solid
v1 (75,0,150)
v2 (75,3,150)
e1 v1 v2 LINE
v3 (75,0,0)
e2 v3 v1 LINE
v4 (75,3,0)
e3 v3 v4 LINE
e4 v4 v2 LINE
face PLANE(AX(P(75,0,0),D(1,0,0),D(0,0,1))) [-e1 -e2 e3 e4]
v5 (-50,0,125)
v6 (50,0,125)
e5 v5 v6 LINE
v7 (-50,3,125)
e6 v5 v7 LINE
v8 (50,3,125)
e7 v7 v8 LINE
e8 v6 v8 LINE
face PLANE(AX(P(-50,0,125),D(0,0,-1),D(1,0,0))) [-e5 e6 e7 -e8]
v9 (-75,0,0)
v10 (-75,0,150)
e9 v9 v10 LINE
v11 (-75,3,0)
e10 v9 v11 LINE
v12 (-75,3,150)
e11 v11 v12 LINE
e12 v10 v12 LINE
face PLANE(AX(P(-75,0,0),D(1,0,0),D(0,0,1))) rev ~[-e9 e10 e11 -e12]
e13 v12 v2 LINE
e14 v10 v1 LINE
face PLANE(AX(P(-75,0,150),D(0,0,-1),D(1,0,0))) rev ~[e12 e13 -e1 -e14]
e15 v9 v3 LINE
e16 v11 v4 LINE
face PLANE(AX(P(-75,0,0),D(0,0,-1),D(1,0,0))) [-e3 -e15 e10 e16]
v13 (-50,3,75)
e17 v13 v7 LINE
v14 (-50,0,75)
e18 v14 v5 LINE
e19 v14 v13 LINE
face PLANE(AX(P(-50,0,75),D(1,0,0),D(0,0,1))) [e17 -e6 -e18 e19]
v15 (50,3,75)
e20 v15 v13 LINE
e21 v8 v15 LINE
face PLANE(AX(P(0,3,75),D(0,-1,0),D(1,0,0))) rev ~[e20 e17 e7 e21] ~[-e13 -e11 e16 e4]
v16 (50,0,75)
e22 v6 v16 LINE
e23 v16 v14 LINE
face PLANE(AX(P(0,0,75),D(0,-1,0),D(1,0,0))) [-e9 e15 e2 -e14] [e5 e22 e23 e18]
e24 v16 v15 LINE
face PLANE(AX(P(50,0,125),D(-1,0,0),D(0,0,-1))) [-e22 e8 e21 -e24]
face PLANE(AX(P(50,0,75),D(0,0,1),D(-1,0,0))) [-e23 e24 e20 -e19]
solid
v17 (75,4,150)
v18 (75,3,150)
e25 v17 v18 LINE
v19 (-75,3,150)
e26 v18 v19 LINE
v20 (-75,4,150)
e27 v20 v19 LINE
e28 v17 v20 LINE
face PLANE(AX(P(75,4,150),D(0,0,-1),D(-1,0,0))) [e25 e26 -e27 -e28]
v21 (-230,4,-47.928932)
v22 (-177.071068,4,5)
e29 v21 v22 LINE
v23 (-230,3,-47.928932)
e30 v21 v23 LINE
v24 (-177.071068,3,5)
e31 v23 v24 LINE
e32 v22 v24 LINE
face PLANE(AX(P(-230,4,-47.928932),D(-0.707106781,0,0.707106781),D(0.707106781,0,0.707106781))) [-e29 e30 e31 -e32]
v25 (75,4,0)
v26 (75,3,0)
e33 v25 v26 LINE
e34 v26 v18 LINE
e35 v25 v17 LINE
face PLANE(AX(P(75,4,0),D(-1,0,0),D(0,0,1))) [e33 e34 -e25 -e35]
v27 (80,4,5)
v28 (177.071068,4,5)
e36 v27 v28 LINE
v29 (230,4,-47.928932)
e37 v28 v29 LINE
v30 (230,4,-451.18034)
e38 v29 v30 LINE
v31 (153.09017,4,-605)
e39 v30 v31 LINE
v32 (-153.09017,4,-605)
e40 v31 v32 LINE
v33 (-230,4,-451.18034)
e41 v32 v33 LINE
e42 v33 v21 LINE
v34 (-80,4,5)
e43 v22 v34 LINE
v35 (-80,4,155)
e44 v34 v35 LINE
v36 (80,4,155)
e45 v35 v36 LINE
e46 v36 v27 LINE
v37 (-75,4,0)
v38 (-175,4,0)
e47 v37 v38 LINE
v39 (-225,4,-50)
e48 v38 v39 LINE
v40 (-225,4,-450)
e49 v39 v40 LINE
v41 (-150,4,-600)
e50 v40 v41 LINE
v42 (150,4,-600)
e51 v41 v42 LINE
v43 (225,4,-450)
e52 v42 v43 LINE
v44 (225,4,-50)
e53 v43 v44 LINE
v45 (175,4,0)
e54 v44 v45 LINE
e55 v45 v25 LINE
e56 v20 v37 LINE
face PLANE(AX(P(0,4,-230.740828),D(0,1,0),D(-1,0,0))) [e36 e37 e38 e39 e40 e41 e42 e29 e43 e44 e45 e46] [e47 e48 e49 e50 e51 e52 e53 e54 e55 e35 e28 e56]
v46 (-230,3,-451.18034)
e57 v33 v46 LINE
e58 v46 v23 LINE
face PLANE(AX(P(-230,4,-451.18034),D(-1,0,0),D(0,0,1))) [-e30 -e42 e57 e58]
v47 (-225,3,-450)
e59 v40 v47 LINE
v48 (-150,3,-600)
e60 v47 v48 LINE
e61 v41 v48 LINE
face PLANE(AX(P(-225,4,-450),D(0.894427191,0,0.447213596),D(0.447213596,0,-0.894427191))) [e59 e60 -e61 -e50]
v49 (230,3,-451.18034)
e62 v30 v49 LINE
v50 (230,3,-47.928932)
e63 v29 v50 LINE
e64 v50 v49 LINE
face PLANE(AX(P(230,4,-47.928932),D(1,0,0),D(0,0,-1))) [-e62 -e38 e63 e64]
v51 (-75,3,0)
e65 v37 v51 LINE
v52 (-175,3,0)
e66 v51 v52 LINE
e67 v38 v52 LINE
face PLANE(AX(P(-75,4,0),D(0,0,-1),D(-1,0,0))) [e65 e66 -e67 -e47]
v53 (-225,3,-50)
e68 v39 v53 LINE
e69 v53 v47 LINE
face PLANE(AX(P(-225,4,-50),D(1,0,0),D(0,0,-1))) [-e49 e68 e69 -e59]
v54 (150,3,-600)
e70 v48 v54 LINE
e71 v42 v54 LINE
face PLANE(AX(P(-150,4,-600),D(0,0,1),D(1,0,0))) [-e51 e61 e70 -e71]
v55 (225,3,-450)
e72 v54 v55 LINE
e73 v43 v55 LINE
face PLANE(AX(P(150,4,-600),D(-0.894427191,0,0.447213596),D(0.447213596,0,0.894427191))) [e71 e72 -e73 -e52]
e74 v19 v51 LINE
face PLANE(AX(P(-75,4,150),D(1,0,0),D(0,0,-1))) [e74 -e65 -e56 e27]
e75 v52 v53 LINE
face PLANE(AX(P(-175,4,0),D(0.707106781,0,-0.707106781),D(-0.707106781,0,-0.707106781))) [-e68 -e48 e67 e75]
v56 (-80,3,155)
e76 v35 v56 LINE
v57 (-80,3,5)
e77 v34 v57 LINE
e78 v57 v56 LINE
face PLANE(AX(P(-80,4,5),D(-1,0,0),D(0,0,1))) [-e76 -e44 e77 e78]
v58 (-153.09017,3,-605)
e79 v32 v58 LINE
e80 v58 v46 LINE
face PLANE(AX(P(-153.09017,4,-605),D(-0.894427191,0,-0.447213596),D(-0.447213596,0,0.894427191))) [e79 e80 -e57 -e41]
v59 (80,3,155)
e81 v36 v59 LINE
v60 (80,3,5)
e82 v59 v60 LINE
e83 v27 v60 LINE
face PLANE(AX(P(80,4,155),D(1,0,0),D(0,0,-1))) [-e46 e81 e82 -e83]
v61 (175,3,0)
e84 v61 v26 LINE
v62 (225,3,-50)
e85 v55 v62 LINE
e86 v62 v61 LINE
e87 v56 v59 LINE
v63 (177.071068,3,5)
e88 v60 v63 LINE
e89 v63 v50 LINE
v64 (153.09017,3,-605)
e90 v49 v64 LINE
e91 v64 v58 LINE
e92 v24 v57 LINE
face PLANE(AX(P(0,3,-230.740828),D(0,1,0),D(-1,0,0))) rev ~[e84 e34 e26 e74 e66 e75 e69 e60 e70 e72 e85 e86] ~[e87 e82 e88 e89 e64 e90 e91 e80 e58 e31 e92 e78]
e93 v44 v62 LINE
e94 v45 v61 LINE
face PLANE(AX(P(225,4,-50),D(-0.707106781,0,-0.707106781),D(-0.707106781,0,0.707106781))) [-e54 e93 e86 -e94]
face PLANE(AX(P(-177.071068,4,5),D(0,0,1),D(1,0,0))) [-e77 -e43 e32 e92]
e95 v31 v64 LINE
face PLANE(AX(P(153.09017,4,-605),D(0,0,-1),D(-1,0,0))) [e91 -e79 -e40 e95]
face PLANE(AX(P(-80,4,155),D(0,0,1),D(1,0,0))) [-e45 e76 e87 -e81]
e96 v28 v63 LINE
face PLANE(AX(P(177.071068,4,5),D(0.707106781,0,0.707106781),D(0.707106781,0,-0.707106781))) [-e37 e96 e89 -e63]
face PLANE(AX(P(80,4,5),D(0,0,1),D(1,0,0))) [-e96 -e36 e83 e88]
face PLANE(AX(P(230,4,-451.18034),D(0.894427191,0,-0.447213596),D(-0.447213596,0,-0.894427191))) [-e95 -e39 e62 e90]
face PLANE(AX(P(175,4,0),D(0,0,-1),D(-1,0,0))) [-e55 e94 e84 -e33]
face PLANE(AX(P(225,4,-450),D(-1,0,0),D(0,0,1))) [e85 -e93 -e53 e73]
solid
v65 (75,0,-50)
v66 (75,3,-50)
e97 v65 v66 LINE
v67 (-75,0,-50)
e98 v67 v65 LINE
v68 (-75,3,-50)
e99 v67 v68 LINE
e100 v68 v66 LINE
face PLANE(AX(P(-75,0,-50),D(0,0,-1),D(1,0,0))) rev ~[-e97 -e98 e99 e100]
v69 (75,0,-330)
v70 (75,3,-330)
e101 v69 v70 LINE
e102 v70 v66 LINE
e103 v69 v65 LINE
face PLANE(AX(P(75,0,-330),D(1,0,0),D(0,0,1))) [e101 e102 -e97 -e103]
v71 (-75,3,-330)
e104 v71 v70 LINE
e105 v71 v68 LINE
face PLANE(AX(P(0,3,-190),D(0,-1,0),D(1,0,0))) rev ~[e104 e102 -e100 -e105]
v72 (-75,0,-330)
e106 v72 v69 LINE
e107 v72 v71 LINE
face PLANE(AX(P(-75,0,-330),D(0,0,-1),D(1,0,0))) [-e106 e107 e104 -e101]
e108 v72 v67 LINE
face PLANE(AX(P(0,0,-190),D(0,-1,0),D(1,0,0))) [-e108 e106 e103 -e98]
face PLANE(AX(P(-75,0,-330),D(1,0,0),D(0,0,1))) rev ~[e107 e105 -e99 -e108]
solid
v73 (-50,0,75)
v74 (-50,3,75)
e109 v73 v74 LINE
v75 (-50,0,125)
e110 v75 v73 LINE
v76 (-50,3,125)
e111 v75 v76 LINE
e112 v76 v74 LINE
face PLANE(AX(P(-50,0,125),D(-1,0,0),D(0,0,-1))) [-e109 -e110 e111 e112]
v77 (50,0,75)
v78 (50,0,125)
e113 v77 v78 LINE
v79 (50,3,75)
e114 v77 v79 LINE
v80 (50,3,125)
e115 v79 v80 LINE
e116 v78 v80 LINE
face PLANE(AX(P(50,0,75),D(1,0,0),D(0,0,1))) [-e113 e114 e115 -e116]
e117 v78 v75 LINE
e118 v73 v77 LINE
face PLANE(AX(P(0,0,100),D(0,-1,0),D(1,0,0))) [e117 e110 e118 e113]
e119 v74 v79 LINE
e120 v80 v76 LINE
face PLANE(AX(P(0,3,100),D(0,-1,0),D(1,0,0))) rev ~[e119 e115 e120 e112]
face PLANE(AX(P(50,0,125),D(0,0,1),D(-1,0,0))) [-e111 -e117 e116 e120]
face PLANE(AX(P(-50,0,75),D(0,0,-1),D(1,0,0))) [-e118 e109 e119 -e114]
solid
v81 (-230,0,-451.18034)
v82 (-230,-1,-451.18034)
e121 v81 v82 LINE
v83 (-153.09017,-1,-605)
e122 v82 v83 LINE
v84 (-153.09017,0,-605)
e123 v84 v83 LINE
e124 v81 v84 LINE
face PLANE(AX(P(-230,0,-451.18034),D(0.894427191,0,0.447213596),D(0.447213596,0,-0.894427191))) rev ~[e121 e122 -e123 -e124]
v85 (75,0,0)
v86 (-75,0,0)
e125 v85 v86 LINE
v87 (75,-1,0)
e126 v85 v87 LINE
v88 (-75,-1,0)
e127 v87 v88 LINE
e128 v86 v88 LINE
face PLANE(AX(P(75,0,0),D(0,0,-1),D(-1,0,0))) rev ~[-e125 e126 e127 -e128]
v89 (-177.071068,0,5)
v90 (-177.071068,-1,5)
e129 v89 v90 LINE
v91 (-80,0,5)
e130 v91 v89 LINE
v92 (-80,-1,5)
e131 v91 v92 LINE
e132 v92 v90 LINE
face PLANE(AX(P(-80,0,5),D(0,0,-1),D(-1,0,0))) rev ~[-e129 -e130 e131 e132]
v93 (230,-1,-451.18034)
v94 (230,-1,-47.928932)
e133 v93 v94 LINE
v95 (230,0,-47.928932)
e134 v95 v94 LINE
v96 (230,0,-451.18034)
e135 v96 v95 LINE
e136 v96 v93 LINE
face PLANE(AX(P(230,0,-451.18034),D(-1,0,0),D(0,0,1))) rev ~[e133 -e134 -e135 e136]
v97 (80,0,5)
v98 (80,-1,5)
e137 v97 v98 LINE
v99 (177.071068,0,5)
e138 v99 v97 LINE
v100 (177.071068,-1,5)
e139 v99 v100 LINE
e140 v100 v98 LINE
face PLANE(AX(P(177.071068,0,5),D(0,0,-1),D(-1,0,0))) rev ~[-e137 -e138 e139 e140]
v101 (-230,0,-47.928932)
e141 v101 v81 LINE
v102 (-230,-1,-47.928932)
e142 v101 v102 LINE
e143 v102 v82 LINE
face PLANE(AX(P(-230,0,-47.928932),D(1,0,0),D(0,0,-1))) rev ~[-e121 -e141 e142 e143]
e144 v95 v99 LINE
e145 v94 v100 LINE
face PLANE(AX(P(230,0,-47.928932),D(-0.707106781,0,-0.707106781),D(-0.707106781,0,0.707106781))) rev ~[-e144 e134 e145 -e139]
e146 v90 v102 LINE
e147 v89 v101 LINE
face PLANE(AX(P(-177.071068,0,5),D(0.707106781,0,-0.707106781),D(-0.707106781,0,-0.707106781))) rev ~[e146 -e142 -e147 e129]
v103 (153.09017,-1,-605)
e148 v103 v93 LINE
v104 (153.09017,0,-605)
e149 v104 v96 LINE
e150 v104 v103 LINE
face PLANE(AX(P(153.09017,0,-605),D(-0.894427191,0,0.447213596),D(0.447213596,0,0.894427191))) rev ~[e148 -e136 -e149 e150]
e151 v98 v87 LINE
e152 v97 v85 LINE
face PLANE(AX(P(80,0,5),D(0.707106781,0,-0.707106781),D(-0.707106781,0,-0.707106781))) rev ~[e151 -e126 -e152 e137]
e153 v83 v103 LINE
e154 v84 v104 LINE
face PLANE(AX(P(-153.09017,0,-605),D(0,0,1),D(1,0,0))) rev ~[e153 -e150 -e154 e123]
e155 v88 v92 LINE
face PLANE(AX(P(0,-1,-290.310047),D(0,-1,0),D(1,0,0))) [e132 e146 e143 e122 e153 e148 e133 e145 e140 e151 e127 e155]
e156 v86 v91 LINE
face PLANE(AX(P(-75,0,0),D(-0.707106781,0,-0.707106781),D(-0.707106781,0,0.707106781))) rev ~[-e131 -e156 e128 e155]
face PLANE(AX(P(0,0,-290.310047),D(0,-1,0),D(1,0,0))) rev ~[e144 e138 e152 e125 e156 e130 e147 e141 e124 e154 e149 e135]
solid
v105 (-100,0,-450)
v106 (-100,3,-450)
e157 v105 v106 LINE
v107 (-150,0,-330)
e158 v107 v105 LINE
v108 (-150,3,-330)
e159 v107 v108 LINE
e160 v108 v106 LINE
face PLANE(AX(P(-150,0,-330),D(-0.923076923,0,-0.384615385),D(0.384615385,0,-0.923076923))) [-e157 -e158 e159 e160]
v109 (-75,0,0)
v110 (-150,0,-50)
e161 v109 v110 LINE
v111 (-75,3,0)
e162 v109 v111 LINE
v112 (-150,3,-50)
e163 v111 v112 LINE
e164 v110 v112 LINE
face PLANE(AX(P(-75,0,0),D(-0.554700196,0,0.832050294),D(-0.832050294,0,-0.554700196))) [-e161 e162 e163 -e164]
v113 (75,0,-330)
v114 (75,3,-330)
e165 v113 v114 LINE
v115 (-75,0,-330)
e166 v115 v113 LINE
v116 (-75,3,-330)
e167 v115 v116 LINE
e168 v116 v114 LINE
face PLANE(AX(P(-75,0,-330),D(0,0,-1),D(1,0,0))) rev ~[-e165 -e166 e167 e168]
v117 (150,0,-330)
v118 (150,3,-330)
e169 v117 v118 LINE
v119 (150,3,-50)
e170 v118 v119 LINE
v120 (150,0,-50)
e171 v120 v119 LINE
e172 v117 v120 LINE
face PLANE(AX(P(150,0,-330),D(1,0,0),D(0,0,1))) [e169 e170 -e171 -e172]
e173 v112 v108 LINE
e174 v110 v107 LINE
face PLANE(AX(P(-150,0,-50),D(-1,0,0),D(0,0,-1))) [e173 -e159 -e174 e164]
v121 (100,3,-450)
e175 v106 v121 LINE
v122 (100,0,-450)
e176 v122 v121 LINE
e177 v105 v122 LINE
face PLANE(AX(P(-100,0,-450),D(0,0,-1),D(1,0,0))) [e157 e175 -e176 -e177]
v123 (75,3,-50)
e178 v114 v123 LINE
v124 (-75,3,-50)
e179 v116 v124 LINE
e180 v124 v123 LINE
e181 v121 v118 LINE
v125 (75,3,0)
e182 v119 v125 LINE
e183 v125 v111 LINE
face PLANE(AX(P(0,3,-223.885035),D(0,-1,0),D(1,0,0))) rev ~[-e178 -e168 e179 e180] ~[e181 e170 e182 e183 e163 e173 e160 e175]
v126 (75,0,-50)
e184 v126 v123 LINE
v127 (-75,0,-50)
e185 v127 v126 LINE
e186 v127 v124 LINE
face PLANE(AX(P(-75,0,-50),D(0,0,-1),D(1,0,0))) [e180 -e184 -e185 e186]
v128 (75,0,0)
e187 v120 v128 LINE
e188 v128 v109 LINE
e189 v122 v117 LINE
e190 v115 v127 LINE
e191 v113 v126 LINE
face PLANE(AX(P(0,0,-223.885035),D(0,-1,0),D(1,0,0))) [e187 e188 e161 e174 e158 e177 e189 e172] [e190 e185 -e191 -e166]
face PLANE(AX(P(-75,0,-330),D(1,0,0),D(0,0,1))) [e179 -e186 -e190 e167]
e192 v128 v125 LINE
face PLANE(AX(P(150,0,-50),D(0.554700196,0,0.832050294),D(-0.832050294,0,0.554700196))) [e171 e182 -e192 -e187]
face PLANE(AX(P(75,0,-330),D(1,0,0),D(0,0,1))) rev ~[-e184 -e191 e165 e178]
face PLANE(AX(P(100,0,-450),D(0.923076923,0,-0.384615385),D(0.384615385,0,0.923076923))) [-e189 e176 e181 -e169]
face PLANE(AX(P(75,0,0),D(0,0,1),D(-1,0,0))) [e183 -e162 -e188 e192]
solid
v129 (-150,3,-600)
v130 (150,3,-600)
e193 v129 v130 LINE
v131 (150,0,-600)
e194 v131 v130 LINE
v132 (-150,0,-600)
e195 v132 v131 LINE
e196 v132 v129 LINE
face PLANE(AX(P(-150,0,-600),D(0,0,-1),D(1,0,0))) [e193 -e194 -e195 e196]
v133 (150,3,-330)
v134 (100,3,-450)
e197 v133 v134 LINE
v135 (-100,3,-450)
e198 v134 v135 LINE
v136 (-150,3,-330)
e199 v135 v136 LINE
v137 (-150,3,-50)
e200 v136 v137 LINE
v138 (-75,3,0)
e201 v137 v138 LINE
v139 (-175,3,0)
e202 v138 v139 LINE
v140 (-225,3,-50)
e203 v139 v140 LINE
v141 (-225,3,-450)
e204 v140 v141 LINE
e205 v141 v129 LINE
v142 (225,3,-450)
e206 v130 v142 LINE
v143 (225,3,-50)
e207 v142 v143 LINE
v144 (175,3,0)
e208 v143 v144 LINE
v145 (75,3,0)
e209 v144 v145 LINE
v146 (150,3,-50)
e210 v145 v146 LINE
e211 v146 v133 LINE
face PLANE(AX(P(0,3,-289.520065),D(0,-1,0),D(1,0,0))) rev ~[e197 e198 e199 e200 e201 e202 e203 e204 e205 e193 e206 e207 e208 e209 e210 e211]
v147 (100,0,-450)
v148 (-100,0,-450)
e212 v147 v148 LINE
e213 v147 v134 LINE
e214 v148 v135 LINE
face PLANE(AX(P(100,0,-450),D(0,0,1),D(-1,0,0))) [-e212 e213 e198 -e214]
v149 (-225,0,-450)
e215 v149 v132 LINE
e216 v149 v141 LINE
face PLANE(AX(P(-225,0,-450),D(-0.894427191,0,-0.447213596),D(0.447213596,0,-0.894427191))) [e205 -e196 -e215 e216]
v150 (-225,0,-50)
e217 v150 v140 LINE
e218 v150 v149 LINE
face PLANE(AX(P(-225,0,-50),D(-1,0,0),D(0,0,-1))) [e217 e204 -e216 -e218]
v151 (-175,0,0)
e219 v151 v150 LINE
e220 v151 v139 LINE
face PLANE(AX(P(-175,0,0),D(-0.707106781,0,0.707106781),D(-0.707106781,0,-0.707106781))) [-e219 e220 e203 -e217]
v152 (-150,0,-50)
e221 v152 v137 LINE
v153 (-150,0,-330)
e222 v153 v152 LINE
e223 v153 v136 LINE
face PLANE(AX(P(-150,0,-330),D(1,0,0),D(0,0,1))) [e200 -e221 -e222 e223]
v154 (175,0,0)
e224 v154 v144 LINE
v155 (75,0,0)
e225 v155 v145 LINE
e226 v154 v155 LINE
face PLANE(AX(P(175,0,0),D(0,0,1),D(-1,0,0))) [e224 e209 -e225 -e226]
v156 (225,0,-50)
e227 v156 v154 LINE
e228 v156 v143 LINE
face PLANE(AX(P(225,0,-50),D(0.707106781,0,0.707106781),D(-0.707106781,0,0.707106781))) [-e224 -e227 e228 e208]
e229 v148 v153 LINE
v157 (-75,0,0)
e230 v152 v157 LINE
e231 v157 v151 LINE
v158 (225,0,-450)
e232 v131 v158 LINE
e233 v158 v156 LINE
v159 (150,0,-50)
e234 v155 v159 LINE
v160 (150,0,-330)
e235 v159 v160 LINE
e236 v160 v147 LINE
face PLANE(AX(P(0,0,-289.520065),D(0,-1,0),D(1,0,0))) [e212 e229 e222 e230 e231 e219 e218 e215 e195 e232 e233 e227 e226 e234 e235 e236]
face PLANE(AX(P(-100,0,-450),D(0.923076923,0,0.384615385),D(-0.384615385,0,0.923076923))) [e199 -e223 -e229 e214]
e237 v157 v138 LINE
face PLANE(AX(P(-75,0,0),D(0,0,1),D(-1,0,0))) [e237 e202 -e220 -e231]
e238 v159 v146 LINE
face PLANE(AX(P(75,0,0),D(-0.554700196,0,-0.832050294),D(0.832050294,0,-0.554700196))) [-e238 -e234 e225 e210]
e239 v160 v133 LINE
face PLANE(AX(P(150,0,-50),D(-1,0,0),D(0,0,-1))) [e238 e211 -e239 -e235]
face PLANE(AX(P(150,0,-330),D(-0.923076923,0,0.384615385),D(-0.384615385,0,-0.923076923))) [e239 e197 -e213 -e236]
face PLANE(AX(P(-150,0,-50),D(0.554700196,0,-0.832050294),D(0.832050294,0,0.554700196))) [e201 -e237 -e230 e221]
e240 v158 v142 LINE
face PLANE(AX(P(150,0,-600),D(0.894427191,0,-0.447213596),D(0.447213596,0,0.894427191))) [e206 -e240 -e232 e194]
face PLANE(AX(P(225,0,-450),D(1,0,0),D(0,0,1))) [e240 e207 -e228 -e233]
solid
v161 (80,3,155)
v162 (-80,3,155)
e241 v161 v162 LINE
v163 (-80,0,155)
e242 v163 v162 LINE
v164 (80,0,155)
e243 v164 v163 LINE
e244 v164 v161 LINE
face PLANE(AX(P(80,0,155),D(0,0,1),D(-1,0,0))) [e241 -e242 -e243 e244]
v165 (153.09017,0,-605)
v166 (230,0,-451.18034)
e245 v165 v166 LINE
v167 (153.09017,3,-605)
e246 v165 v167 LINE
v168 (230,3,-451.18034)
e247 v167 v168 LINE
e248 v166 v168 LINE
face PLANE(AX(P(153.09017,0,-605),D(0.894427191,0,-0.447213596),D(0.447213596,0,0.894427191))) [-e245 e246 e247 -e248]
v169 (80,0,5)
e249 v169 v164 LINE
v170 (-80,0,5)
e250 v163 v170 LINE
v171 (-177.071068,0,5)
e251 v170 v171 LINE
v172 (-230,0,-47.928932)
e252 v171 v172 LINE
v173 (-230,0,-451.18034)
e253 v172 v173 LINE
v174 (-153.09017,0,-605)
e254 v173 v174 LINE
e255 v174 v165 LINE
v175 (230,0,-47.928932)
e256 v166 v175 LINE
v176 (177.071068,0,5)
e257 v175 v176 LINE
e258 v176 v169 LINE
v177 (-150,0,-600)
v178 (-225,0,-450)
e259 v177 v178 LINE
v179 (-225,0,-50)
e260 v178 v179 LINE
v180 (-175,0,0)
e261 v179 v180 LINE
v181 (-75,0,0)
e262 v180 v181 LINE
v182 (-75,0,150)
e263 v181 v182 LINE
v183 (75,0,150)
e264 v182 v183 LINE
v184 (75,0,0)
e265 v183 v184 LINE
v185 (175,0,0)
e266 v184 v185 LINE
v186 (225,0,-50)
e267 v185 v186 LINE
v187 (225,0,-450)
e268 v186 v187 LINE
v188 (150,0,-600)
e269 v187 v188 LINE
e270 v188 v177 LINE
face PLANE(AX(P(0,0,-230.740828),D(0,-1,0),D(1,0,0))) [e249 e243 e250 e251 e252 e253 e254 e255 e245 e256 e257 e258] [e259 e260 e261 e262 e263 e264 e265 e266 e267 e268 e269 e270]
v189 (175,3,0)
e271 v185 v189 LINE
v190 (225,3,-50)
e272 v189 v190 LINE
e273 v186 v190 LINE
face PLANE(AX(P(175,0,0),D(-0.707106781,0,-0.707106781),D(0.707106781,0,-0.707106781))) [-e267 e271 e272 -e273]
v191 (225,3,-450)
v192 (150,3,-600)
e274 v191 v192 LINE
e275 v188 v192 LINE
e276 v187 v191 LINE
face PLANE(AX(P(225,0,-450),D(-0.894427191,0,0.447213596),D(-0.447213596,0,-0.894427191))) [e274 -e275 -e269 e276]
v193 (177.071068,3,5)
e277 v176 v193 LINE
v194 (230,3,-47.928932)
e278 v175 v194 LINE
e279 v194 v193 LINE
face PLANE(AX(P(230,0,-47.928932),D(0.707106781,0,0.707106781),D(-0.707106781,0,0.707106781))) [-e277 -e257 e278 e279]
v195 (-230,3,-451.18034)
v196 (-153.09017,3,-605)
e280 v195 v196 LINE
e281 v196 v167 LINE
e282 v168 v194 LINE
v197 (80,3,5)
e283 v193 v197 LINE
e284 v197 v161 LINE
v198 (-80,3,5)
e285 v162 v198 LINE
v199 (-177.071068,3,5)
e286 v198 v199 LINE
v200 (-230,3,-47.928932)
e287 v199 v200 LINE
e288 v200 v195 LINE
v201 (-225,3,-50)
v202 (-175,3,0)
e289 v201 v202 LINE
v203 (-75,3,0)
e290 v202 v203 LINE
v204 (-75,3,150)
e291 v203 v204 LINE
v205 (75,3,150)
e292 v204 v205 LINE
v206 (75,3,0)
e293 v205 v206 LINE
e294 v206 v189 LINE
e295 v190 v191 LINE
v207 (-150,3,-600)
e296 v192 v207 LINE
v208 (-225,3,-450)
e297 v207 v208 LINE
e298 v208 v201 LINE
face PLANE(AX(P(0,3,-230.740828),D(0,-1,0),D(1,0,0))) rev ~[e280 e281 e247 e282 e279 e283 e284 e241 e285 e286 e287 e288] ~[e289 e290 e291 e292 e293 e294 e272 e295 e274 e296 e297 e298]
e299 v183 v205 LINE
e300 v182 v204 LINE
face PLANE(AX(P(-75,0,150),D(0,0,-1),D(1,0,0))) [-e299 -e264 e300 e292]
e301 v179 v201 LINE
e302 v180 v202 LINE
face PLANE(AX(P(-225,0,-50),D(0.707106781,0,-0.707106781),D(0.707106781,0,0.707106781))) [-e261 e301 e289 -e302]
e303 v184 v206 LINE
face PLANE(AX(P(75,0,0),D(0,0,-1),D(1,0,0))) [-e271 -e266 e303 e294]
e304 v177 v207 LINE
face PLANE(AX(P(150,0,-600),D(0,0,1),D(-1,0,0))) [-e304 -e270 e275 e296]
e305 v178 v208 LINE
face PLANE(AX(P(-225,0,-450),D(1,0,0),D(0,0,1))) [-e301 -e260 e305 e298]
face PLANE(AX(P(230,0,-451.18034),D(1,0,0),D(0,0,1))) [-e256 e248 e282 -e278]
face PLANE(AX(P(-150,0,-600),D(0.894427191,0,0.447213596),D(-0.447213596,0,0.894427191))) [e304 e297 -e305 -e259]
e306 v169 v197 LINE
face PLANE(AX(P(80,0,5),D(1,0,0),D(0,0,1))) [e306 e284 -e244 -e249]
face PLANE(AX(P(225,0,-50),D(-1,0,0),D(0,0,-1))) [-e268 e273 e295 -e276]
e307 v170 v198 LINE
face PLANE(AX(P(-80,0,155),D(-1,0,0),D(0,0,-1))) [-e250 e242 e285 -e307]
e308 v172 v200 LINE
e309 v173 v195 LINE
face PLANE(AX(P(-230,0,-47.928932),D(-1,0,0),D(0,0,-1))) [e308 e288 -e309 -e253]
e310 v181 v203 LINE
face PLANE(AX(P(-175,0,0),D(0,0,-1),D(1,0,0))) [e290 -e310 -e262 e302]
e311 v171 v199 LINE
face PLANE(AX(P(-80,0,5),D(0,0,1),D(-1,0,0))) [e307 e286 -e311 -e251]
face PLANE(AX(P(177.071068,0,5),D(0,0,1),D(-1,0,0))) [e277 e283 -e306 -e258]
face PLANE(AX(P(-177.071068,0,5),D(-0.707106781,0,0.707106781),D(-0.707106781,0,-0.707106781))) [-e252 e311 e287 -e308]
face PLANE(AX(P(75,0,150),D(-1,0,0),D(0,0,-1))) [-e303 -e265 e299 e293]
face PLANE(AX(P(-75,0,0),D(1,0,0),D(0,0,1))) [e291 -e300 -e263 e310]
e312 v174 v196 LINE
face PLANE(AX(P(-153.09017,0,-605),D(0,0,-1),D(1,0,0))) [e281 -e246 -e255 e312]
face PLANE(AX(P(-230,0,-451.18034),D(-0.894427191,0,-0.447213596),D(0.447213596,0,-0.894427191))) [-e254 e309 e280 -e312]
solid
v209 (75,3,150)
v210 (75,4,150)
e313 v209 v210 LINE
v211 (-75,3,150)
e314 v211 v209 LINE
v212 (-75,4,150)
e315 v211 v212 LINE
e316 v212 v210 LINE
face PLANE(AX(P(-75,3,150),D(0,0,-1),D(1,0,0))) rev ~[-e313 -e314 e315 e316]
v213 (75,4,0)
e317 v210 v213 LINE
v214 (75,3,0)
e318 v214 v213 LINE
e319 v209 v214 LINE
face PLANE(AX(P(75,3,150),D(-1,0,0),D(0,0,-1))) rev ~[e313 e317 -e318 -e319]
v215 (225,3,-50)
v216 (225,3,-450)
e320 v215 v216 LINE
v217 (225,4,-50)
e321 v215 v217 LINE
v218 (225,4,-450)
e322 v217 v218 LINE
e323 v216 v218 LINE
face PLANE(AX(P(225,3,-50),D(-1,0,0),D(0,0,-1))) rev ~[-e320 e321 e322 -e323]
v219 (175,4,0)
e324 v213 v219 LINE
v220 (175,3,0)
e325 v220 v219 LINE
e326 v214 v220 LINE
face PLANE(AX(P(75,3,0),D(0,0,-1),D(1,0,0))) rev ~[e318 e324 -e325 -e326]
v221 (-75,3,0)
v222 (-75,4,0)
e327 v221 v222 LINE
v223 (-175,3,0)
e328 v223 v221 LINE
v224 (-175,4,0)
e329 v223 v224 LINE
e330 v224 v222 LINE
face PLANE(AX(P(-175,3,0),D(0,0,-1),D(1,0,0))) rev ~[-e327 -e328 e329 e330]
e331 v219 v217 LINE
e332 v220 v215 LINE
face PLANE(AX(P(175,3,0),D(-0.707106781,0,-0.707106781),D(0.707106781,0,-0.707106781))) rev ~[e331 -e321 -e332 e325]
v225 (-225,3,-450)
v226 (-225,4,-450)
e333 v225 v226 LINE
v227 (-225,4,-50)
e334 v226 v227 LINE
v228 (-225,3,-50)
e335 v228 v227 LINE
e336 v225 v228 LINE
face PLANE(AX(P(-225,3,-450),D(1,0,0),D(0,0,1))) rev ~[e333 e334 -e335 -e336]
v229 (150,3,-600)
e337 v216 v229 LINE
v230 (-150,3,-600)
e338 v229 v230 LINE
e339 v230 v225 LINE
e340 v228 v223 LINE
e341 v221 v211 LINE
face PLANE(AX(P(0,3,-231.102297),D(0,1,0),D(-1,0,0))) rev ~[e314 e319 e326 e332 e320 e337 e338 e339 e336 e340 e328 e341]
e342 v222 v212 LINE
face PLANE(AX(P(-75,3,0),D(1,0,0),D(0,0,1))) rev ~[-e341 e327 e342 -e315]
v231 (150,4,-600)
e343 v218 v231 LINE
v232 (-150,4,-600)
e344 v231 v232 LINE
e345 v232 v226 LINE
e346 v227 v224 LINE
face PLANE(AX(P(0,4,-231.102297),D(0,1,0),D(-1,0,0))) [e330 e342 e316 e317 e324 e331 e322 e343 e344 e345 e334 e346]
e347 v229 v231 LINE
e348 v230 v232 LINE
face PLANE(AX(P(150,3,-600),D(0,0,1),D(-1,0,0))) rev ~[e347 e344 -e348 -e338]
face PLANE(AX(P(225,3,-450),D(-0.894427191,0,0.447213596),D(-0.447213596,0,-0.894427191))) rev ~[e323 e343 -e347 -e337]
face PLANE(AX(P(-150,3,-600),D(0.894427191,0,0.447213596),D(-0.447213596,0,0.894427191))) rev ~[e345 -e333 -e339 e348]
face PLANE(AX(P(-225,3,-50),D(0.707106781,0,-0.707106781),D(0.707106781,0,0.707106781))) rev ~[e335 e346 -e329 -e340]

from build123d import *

# Parameters (mm, degrees)
F1_DEPTH  = 3
F2_W      = 150
F2_H      = 150
F3_DEPTH  = 3
F4_W      = 150
F4_H      = 280
F5_DEPTH  = 3
F6_W      = 150
F6_H      = 280
F7_DEPTH  = 3
F9_DEPTH  = 3
F11_DEPTH = 3
F13_DEPTH = 1
F15_DEPTH = 1
F17_DEPTH = 1


with BuildPart() as f1:
    # F0 (on Front) → F1 (new body)
    with BuildSketch(Plane.XZ):
        Polygon((50, 125), (0, 125), (-50, 125), (-50, 100), (-50, 75), (0, 75), (50, 75), (50, 100), align=None)
    extrude(amount=-F1_DEPTH)


with BuildPart() as f3:
    # F2 (on Front) → F3 (new body)
    with BuildSketch(Plane.XZ):
        with Locations((0, 75)):
            Rectangle(F2_W, F2_H)
        Polygon((-50, 125), (0, 125), (50, 125), (50, 100), (50, 75), (0, 75), (-50, 75), (-50, 100), align=None, mode=Mode.SUBTRACT)
    extrude(amount=-F3_DEPTH)


with BuildPart() as f5:
    # F4 (on Front) → F5 (new body)
    with BuildSketch(Plane.XZ):
        with Locations((0, -190)):
            Rectangle(F4_W, F4_H)
    extrude(amount=-F5_DEPTH)


with BuildPart() as f7:
    # F6 (on Front) → F7 (new body)
    with BuildSketch(Plane.XZ):
        Polygon((75, 0), (-75, 0), (-150, -50), (-150, -330), (-100, -450), (100, -450), (150, -330), (150, -50), align=None)
        with Locations((0, -190)):
            Rectangle(F6_W, F6_H, mode=Mode.SUBTRACT)
    extrude(amount=-F7_DEPTH)


with BuildPart() as f9:
    # F8 (on face) → F9 (new body)
    with BuildSketch(Plane.XZ):
        Polygon((175, 0), (75, 0), (150, -50), (150, -330), (100, -450), (-100, -450), (-150, -330), (-150, -50), (-75, 0), (-175, 0), (-225, -50), (-225, -450), (-150, -600), (150, -600), (225, -450), (225, -50), align=None)
    extrude(amount=-F9_DEPTH)


with BuildPart() as f11:
    # F10 (on face) → F11 (new body)
    with BuildSketch(Plane.XZ):
        Polygon((230, -47.928932), (177.071068, 5), (80, 5), (80, 155), (-80, 155), (-80, 5), (-177.071068, 5), (-230, -47.928932), (-230, -451.18034), (-153.09017, -605), (153.09017, -605), (230, -451.18034), align=None)
        Polygon((-75, 150), (75, 150), (75, 0), (175, 0), (225, -50), (225, -450), (150, -600), (-150, -600), (-225, -450), (-225, -50), (-175, 0), (-75, 0), align=None, mode=Mode.SUBTRACT)
    extrude(amount=-F11_DEPTH)


with BuildPart() as f13:
    # F12 (on face) → F13 (new body)
    with BuildSketch(Plane(origin=(0, 3, 0), x_dir=(-1, 0, 0), z_dir=(0, 1, 0))):
        Polygon((75, 0), (75, 150), (-75, 150), (-75, 0), (-175, 0), (-225, -50), (-225, -450), (-150, -600), (150, -600), (225, -450), (225, -50), (175, 0), align=None)
    extrude(amount=F13_DEPTH)


with BuildPart() as f15:
    # F14 (on face) → F15 (new body)
    with BuildSketch(Plane(origin=(0, 4, 0), x_dir=(-1, 0, 0), z_dir=(0, 1, 0))):
        Polygon((80, 155), (-80, 155), (-80, 5), (-177.071068, 5), (-230, -47.928932), (-230, -451.18034), (-153.09017, -605), (153.09017, -605), (230, -451.18034), (230, -47.928932), (177.071068, 5), (80, 5), align=None)
        Polygon((-75, 0), (-75, 150), (75, 150), (75, 0), (175, 0), (225, -50), (225, -450), (150, -600), (-150, -600), (-225, -450), (-225, -50), (-175, 0), align=None, mode=Mode.SUBTRACT)
    extrude(amount=-F15_DEPTH)


with BuildPart() as f17:
    # F16 (on face) → F17 (new body)
    with BuildSketch(Plane.XZ):
        Polygon((-230, -451.18034), (-153.09017, -605), (153.09017, -605), (230, -451.18034), (230, -47.928932), (177.071068, 5), (80, 5), (75, 0), (-75, 0), (-80, 5), (-177.071068, 5), (-230, -47.928932), align=None)
    extrude(amount=F17_DEPTH)


solid = Compound([f1.part, f3.part, f5.part, f7.part, f9.part, f11.part, f13.part, f15.part, f17.part])
